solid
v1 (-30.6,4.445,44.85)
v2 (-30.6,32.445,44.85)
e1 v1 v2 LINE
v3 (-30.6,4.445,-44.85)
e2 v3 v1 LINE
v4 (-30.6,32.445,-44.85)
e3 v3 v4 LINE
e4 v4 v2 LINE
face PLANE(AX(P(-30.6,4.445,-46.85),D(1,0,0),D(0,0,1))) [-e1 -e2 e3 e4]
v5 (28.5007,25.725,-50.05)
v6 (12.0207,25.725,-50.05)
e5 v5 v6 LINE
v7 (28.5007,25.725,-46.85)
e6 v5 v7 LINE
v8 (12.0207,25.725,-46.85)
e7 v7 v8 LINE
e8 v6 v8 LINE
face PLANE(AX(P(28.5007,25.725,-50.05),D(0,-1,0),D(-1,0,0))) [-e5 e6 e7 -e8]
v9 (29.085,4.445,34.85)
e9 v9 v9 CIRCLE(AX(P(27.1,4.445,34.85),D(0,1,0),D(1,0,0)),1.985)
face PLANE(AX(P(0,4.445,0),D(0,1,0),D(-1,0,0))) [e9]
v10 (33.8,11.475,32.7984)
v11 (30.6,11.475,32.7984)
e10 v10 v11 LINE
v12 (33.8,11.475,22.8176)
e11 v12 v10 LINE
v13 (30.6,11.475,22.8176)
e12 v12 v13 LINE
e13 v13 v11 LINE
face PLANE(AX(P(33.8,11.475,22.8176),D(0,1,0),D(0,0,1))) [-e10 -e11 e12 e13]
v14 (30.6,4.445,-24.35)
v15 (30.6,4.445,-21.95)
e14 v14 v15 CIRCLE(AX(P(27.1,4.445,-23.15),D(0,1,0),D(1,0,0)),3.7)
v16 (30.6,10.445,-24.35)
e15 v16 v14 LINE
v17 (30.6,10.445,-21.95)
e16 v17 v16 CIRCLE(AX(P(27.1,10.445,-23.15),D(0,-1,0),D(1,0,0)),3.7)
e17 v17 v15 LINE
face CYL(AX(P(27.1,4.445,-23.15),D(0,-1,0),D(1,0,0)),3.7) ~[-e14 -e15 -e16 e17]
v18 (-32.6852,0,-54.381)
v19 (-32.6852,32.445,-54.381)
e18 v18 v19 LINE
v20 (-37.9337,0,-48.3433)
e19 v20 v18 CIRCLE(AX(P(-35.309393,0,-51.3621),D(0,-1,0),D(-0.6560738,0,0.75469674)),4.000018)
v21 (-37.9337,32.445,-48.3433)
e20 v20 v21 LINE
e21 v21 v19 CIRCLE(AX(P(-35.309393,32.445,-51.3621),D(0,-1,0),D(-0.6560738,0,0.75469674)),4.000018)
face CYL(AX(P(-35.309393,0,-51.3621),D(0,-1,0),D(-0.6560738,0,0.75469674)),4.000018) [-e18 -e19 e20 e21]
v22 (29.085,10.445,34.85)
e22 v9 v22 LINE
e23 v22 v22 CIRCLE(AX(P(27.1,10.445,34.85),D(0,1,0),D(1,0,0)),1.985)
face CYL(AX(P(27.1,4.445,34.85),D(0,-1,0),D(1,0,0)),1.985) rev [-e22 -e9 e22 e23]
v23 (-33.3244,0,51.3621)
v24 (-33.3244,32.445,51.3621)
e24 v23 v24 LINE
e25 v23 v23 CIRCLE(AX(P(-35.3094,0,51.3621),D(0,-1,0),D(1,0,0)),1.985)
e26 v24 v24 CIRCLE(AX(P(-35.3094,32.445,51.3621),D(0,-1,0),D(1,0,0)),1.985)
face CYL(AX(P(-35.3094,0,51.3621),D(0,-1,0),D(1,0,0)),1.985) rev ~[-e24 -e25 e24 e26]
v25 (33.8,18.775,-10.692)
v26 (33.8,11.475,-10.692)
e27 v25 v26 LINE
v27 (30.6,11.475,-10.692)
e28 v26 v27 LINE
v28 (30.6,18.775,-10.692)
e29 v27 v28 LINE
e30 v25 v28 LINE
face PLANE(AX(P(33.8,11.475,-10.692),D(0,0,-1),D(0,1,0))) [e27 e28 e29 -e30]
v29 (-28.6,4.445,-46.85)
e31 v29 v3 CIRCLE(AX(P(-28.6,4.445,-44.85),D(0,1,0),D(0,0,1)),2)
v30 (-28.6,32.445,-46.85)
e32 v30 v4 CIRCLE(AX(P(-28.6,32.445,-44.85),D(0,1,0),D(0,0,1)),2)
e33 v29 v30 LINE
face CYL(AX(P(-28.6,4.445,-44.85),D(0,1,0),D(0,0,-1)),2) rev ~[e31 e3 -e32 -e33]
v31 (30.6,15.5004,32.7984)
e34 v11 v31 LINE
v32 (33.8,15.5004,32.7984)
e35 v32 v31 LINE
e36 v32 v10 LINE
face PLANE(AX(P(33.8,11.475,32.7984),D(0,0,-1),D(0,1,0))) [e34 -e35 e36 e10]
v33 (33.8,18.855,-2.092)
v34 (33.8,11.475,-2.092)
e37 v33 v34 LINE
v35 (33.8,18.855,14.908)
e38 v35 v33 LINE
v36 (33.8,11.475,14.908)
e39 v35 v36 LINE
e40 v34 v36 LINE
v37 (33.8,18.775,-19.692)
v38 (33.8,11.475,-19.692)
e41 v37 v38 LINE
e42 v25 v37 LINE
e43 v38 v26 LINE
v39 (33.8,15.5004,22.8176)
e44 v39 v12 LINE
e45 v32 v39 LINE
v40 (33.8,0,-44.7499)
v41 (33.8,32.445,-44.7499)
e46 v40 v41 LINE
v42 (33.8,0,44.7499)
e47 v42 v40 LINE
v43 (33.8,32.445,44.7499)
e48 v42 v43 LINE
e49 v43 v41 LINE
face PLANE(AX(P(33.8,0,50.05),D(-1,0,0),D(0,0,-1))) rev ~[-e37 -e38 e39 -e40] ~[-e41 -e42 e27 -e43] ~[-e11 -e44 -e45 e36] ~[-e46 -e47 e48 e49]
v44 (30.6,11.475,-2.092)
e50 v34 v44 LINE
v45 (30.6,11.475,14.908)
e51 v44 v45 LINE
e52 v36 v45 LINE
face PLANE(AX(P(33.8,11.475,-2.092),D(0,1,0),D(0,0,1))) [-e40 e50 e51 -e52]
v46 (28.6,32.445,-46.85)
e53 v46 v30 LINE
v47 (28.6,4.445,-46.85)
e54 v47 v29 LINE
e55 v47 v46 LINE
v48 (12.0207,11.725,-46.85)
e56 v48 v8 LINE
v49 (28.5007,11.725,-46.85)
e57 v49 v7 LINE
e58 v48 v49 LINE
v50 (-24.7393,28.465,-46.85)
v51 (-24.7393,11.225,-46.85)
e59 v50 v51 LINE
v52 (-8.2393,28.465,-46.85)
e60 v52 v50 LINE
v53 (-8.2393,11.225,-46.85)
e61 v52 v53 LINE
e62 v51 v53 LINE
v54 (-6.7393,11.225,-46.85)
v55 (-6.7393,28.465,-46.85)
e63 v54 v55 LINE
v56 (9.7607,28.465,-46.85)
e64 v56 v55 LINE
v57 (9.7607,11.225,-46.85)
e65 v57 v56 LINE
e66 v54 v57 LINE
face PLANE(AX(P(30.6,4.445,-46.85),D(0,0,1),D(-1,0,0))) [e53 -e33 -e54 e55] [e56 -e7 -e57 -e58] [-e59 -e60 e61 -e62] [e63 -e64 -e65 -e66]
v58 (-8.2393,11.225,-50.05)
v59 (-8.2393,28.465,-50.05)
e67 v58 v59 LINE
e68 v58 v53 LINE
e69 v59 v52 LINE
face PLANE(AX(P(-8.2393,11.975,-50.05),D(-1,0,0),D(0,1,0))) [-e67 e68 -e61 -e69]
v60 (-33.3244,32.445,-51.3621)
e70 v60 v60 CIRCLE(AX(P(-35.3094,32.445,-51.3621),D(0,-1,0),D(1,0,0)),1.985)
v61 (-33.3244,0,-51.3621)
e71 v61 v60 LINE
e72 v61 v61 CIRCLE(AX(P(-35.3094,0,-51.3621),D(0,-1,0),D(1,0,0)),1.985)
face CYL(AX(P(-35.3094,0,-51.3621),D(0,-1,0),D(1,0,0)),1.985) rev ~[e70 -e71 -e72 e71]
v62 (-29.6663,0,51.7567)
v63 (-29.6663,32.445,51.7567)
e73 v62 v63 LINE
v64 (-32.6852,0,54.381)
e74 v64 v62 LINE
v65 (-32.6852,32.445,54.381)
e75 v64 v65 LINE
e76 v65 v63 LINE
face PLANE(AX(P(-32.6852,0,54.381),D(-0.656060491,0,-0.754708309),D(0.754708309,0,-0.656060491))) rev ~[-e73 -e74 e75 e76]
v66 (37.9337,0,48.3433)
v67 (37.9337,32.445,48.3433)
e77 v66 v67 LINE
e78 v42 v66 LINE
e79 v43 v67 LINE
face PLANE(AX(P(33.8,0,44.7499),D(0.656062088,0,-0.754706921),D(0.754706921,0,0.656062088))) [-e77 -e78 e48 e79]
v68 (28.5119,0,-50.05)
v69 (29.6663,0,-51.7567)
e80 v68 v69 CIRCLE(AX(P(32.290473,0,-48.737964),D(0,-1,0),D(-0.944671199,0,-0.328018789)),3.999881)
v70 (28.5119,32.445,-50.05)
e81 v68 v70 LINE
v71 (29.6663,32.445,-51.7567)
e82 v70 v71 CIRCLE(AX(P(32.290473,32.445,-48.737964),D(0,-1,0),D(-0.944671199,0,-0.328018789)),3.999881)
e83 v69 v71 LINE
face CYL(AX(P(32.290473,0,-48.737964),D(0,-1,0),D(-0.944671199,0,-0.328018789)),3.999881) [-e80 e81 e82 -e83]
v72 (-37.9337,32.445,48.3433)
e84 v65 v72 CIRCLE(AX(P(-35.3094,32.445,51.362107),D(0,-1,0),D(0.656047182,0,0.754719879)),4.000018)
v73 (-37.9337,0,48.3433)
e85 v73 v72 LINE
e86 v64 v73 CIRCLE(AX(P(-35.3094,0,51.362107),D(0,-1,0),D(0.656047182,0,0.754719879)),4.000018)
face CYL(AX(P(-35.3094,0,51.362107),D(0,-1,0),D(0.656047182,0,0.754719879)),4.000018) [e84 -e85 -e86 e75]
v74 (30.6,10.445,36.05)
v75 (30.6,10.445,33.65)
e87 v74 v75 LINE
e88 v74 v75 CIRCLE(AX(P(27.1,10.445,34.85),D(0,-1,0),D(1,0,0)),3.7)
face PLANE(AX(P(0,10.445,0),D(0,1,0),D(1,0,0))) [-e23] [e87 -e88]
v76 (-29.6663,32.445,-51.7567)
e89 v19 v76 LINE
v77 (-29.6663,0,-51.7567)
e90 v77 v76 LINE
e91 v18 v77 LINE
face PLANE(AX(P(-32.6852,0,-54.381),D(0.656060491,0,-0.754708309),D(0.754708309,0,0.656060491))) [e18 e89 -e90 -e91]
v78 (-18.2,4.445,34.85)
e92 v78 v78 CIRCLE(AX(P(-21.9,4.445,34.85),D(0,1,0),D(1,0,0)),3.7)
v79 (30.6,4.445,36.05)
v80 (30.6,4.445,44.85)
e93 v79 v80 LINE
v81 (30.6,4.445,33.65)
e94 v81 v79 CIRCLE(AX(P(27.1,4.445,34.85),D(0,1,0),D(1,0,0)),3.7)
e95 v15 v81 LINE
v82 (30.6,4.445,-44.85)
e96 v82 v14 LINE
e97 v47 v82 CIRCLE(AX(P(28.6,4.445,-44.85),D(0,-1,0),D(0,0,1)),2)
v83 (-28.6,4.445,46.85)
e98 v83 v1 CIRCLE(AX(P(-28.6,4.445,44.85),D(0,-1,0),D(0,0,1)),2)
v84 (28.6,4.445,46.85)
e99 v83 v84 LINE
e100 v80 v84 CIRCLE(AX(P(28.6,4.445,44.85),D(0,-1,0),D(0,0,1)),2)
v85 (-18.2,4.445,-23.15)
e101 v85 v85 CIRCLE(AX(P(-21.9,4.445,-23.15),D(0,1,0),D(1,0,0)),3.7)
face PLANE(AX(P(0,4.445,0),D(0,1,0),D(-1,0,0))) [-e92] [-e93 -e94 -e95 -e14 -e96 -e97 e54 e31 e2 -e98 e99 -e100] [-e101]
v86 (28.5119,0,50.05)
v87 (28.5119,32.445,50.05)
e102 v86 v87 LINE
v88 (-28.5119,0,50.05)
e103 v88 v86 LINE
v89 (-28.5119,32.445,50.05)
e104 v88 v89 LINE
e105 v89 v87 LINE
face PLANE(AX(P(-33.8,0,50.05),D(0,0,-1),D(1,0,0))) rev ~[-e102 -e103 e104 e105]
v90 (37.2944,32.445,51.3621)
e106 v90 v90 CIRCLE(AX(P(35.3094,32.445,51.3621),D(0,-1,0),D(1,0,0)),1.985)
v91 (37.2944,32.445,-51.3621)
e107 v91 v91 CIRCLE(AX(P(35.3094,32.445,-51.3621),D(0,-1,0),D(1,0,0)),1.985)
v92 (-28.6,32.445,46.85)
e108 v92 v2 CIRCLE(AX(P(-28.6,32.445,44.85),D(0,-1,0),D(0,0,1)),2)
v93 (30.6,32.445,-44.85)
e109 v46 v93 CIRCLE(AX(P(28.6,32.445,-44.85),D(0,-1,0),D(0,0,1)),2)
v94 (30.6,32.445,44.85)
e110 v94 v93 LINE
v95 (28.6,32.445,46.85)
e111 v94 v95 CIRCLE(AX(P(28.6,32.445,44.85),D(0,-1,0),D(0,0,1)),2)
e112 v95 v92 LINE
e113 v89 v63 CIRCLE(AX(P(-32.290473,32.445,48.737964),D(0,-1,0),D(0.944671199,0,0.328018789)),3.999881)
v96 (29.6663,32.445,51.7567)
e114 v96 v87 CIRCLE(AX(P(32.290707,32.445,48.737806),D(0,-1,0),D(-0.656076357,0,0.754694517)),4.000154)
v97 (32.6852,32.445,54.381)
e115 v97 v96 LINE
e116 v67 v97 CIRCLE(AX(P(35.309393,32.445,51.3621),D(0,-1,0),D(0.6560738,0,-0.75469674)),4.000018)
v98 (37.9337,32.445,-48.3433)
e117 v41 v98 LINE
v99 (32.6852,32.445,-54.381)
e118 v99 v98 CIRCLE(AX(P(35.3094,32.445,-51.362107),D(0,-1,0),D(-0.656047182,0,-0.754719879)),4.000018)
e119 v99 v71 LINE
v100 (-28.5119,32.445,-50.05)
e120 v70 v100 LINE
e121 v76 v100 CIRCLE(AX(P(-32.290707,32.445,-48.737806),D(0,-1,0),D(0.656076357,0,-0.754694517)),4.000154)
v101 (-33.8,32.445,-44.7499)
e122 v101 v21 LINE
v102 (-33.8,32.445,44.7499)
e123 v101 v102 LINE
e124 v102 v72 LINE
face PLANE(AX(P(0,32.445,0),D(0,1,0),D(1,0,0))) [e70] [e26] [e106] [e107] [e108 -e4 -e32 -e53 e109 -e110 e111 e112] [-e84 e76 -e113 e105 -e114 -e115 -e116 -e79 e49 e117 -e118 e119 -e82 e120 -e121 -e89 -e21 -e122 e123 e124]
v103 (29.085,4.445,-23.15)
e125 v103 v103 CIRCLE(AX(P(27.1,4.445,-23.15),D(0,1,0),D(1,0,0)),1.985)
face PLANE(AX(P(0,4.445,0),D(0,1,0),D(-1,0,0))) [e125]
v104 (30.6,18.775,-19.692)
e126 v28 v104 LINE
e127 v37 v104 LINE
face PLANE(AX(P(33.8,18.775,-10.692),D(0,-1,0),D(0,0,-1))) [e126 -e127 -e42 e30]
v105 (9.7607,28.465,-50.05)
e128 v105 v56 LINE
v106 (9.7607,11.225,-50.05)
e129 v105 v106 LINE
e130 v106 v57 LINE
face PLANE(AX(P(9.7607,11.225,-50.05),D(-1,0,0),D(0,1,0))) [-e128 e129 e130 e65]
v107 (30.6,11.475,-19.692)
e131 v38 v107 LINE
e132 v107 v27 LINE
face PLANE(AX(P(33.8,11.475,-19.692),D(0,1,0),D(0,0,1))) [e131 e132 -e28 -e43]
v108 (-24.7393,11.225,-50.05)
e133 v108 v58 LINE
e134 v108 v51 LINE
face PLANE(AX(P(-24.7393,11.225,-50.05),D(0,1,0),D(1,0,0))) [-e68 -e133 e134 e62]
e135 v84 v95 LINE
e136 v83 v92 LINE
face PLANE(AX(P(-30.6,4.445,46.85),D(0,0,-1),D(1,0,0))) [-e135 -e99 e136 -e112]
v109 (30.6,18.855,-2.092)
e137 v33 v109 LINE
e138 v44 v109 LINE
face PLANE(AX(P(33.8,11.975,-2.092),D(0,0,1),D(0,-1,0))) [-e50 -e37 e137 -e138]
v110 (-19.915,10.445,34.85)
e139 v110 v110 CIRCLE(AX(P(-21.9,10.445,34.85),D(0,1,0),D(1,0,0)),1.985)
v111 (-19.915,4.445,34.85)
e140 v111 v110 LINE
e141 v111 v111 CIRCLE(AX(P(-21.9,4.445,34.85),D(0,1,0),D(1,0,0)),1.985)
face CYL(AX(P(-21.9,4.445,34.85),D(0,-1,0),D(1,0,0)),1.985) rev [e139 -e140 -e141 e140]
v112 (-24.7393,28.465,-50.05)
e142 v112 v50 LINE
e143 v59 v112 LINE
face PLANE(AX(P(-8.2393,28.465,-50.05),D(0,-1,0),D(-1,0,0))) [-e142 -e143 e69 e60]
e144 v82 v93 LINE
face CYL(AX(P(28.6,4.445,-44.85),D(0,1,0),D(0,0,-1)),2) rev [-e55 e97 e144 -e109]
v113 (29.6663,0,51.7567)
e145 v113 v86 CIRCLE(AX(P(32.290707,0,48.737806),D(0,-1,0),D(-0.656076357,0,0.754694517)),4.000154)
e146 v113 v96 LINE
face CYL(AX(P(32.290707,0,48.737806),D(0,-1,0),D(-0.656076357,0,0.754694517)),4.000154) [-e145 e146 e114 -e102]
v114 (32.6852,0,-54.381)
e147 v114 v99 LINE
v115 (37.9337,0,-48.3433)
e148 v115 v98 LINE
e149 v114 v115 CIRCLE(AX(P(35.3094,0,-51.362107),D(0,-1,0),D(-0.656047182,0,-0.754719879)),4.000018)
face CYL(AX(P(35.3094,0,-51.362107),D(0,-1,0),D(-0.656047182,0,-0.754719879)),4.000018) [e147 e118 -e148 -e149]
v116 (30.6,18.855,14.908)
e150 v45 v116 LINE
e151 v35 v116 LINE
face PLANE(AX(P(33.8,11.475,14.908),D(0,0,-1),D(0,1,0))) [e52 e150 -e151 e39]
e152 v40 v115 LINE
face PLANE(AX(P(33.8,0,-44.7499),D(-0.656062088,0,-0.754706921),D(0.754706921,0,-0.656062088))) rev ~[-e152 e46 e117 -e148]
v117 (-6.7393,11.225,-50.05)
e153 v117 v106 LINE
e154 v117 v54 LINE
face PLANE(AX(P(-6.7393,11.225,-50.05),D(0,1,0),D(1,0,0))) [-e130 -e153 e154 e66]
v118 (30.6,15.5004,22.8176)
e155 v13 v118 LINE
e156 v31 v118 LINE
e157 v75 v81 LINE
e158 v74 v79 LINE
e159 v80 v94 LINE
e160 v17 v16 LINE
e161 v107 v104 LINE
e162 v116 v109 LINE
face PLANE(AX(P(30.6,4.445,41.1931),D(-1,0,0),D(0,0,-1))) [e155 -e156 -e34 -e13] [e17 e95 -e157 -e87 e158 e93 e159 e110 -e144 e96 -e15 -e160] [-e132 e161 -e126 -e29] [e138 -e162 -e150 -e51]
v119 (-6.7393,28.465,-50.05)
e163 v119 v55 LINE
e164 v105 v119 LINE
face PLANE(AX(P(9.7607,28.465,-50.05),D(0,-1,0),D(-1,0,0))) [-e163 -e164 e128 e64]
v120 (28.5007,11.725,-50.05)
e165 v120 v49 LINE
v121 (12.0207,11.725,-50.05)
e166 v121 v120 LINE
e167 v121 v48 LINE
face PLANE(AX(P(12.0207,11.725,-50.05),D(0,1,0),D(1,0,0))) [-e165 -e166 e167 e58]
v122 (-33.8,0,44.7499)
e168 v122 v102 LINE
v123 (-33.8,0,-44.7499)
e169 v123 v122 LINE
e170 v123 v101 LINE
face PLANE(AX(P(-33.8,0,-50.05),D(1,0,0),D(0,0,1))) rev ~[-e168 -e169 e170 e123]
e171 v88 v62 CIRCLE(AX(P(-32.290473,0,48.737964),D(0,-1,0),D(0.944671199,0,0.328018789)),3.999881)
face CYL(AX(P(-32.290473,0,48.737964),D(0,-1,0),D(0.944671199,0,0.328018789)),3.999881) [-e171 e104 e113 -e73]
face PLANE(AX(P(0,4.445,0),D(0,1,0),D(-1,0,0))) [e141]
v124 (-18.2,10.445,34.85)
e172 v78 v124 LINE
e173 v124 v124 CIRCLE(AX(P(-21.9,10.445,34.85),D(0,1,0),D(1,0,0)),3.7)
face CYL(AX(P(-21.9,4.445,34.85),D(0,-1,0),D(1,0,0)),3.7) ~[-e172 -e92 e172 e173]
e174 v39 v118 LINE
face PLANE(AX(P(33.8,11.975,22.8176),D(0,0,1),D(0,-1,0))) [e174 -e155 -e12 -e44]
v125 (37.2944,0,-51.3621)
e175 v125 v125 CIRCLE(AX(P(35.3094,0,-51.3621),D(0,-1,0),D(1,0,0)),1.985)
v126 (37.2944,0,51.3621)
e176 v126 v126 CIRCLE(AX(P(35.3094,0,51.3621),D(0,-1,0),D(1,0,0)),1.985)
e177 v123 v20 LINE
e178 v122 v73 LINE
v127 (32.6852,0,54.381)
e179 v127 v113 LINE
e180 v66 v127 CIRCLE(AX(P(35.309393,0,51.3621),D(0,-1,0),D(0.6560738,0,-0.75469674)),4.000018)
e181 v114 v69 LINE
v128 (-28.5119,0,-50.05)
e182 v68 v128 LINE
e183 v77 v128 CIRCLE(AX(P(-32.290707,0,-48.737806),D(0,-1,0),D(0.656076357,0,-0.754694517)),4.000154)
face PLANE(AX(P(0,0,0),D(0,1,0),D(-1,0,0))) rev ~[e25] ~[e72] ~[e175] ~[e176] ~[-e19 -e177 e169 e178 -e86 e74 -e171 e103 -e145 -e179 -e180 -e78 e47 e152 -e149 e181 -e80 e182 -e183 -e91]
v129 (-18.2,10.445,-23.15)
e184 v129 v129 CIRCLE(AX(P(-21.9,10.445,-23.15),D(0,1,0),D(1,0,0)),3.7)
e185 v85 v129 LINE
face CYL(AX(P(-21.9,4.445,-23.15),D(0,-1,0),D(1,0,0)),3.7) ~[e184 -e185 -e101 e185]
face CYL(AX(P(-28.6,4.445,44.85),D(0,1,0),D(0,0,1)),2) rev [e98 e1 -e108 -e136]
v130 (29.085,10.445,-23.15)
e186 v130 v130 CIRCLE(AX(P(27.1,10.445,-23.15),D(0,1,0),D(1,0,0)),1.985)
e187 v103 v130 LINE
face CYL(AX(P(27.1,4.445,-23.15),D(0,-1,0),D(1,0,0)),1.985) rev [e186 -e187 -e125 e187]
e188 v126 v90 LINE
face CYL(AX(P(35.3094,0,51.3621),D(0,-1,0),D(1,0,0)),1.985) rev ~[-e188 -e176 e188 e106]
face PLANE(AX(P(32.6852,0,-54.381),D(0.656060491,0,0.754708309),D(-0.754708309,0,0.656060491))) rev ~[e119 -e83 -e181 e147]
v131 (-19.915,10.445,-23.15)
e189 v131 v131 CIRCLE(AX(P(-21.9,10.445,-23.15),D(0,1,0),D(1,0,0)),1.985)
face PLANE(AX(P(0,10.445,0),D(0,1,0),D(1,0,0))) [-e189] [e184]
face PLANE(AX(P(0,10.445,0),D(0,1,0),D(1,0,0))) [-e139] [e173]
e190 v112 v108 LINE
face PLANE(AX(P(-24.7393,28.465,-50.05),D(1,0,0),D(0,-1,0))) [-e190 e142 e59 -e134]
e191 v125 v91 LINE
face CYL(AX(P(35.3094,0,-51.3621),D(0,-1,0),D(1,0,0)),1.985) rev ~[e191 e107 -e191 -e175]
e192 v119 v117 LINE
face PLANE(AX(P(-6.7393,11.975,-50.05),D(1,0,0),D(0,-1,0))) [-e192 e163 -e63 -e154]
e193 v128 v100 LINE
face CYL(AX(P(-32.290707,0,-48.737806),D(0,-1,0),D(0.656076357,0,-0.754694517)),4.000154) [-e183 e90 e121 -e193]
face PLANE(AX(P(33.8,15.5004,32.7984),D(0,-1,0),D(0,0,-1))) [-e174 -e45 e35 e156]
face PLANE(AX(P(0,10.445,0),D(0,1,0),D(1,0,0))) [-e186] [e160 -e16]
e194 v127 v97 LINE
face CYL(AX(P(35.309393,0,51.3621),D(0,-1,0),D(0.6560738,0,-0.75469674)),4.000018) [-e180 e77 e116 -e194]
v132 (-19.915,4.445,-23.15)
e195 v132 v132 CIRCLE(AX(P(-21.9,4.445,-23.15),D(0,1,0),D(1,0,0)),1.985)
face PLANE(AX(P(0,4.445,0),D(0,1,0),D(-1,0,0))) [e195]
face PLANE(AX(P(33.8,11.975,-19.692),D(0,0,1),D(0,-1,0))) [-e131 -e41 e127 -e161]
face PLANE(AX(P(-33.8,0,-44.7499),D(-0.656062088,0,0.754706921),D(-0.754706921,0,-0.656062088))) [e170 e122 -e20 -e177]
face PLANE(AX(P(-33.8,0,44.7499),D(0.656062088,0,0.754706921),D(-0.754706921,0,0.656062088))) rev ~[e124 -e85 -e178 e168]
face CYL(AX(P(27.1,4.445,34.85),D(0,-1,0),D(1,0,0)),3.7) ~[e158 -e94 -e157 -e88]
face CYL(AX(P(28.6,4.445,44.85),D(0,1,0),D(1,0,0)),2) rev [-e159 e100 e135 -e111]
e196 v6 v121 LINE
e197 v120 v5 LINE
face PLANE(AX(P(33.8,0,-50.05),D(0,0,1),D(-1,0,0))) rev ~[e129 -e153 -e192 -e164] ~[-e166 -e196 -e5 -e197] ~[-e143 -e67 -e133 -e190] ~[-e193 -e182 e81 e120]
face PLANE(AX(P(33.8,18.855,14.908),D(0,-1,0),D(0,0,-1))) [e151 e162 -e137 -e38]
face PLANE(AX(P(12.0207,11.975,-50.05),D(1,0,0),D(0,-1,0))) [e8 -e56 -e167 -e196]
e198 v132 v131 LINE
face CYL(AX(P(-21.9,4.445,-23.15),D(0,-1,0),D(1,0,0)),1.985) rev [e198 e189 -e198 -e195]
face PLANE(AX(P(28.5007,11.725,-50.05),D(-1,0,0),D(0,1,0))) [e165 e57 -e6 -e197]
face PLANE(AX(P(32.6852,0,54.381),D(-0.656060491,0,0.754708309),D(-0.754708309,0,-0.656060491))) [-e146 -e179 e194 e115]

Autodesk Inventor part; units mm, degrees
ref_plane "YZ Plane" through (0, 0, 0) normal (1, 0, 0) x (0, 1, 0)
ref_plane "XZ Plane" through (0, 0, 0) normal (0, 1, 0) x (-1, 0, 0)
ref_plane "XY Plane" through (0, 0, 0) normal (0, 0, 1) x (1, 0, 0)
sketch "Sketch1" plane through (0, 0, 0) normal (0, 1, 0) x (-1, 0, 0)
  line L0 (-33.8, -50.05) -> (33.8, -50.05)
  line L1 (33.8, -50.05) -> (33.8, 50.05)
  line L2 (33.8, 50.05) -> (-33.8, 50.05)
  line L3 (-33.8, 50.05) -> (-33.8, -50.05)
  line L4 (-33.8, -50.05) -> (33.8, 50.05) construction
  line L5 (33.8, -50.05) -> (-33.8, 50.05) construction
  point P0 (0, 0)
  dimension "d0" = 67.6
  dimension "d1" = 100.1
extrude "Extrusion1" add sketch "Sketch1" along normal blind 4.445
sketch "Sketch2" plane through (0, 4.445, 0) normal (0, 1, 0) x (1, 0, 0)
  line L0 (30.6, 46.85) -> (-30.6, 46.85)
  line L1 (-30.6, 46.85) -> (-30.6, -46.85)
  line L2 (-30.6, -46.85) -> (30.6, -46.85)
  line L3 (30.6, -46.85) -> (30.6, 46.85)
  line L4 (30.6, 46.85) -> (-30.6, -46.85) construction
  line L5 (-30.6, 46.85) -> (30.6, -46.85) construction
  line L6 (-33.8, 50.05) -> (-33.8, -50.05) projected
  line L7 (-33.8, -50.05) -> (33.8, -50.05) projected
  line L8 (33.8, 50.05) -> (-33.8, 50.05) projected
  line L9 (33.8, -50.05) -> (33.8, 50.05) projected
  line L10 (27.4, -43.65) -> (33.8, -50.05) construction
  line L11 (24.9431, -46.85) -> (30.9716, -52.8784)
  line L12 (36.6284, -47.2216) -> (30.6, -41.1931)
  arc A0 (30.9716, -52.8784) -> (36.6284, -47.2216) centre (33.8, -50.05) ccw
  circle A1 centre (33.8, -50.05) radius 1.375
  point P0 (0, 0)
  dimension "d4" = 3.2
  dimension "d5" = 3.2
  dimension "d22" = 8
  dimension "d23" = 2.75
extrude "Extrusion2" add sketch "Sketch2" along normal blind 28 contours L0 L1 L2 L11 L7 L6 L8 L9 L12 L3 | L12 L9 A1 L7 L11 L2 L3 | L9 L7 A1 picked at (32.9402, -49.7491)
sketch "Sketch4" plane through (0, 0, 0) normal (0, -1, 0) x (1, 0, 0)
  line L0 (32.2906, 48.7379) -> (35.3094, 51.3621) construction
  line L1 (33.8, 50.05) -> (33.8, -50.05) projected
  line L2 (33.8, 44.7499) -> (37.9337, 48.3433)
  line L3 (32.6852, 54.381) -> (29.6663, 51.7567)
  arc A0 (29.6663, 51.7567) -> (28.5119, 50.05) centre (32.2906, 48.7379) ccw
  arc A1 (37.9337, 48.3433) -> (32.6852, 54.381) centre (35.3094, 51.3621) ccw
  line L4 (-33.8, 50.05) -> (33.8, 50.05) projected
  line L5 (28.5119, 50.05) -> (33.8, 50.05)
  line L6 (33.8, 50.05) -> (33.8, 44.7499)
  circle A2 centre (35.3094, 51.3621) radius 1.985
  line L7 (0, 50.05) -> (0, -50.05) construction
  line L8 (33.8, -50.05) -> (-33.8, -50.05) construction
  line L9 (33.8, 0) -> (-33.3, 0) construction
  line L10 (33.8, -50.05) -> (33.8, 50.05)
  line L11 (33.8, -44.7499) -> (37.9337, -48.3433)
  line L12 (32.6852, -54.381) -> (29.6663, -51.7567)
  arc A3 (28.5119, -50.05) -> (29.6663, -51.7567) centre (32.2906, -48.7379) ccw
  arc A4 (32.6852, -54.381) -> (37.9337, -48.3433) centre (35.3094, -51.3621) ccw
  line L13 (-33.8, -50.05) -> (33.8, -50.05)
  circle A5 centre (35.3094, -51.3621) radius 1.985
  line L14 (-33.8, 50.05) -> (-33.8, -50.05)
  line L15 (-33.8, 44.7499) -> (-37.9337, 48.3433)
  line L16 (-32.6852, 54.381) -> (-29.6663, 51.7567)
  arc A6 (-28.5119, 50.05) -> (-29.6663, 51.7567) centre (-32.2906, 48.7379) ccw
  arc A7 (-32.6852, 54.381) -> (-37.9337, 48.3433) centre (-35.3094, 51.3621) ccw
  line L17 (-28.5119, 50.05) -> (-33.8, 50.05)
  circle A8 centre (-35.3094, 51.3621) radius 1.985
  arc A9 (-37.9337, -48.3433) -> (-32.6852, -54.381) centre (-35.3094, -51.3621) ccw
  line L18 (-33.8, -44.7499) -> (-37.9337, -48.3433)
  line L19 (-32.6852, -54.381) -> (-29.6663, -51.7567)
  arc A10 (-29.6663, -51.7567) -> (-28.5119, -50.05) centre (-32.2906, -48.7379) ccw
  circle A11 centre (-35.3094, -51.3621) radius 1.985
  line L20 (-28.5119, -50.05) -> (-33.8, -50.05)
  line L21 (-33.8, -50.05) -> (-33.8, 50.05)
  point P0 (0, 0)
  point P1 (-28.5119, -50.05)
  point P2 (-33.8, -44.7499)
  point P3 (-28.5119, 50.05)
  point P4 (33.8, -44.7499)
  dimension "d24" = 2
  dimension "d25" = 8
  dimension "d26" = 131
  dimension "d27" = 3.97
extrude "Extrusion4" add sketch "Sketch4" against normal up to surface (32.445 mm away) contours L4 A0 L3 A1 L2 L1 | L11 A4 L12 A3 L13 L1 | L4 L14 L15 A7 L16 A6 | A10 L19 A9 L18 L14 L13
fillet "Fillet2" radius 2 4 edges at (30.6, 18.445, -46.85) (-30.6, 18.445, -46.85) (-30.6, 18.445, 46.85) (30.6, 18.445, 46.85)
sketch "Sketch14" plane through (0, 4.445, 0) normal (0, 1, 0) x (1, 0, 0)
  circle A0 centre (27.1, -34.85) radius 3.7
  circle A1 centre (27.1, -34.85) radius 1.985
  line L0 (28.6, -46.85) -> (-28.6, -46.85) projected
  line L1 (30.6, 44.85) -> (30.6, -44.85) projected
  line L2 (-28.6, -46.85) -> (28.6, -46.85) construction
  line L3 (0, -46.85) -> (0, 50.05) construction
  line L4 (28.5119, 50.05) -> (-28.5119, 50.05) construction
  circle A2 centre (27.1, 23.15) radius 3.7
  circle A3 centre (27.1, 23.15) radius 1.985
  line L5 (-30.6, 44.85) -> (-30.6, -44.85) construction
  line L6 (-30.6, 0) -> (30.6, 0) construction
  line L7 (30.6, -44.85) -> (30.6, 44.85) construction
  circle A4 centre (-21.9, -34.85) radius 3.7
  circle A5 centre (-21.9, -34.85) radius 1.985
  circle A6 centre (-21.9, 23.15) radius 1.985
  circle A7 centre (-21.9, 23.15) radius 3.7
  point P0 (0, 0)
  dimension "d114" = 7.4
  dimension "d115" = 3.97
  dimension "d116" = 12
  dimension "d117" = 3.5
  dimension "d120" = 58
  dimension "d127" = 49
sketch "Sketch15" plane through (0, 4.445, 0) normal (0, 1, 0) x (1, 0, 0)
  point P0 (0, 0)
extrude "Extrusion10" add sketch "Sketch14" along normal blind 6
sketch "Sketch16" plane through (33.8, 0, 44.7499) normal (1, 0, 0) x (0, 0, -1)
  line L0 (12.9515, 13.2621) -> (12.9515, 13.455) projected
  line L1 (20.9323, 13.455) -> (20.9323, 13.2621) projected
  line L2 (13.9419, 14.5004) -> (19.9419, 14.5004) projected
  line L3 (88.3241, 11.975) -> (9.3999, 11.975) projected
  line L4 (21.9323, 11.475) -> (11.9515, 11.475)
  line L5 (11.9515, 11.475) -> (11.9515, 15.5004)
  line L6 (11.9515, 15.5004) -> (21.9323, 15.5004)
  line L7 (21.9323, 15.5004) -> (21.9323, 11.475)
  line L8 (30.8419, 17.055) -> (30.8419, 14.5766) projected
  line L9 (45.8419, 14.5766) -> (45.8419, 17.055) projected
  line L10 (45.0419, 17.855) -> (31.6419, 17.855) projected
  line L11 (46.8419, 11.475) -> (29.8419, 11.475)
  line L12 (29.8419, 11.475) -> (29.8419, 18.855)
  line L13 (29.8419, 18.855) -> (46.8419, 18.855)
  line L14 (46.8419, 18.855) -> (46.8419, 11.475)
  line L15 (56.4419, 17.775) -> (56.4419, 11.775) projected
  line L16 (63.4419, 11.775) -> (63.4419, 17.775) projected
  line L17 (63.4419, 17.775) -> (59.9419, 17.775) projected
  line L18 (59.9419, 17.775) -> (56.4419, 17.775) projected
  line L19 (64.4419, 11.475) -> (55.4419, 11.475)
  line L20 (55.4419, 11.475) -> (55.4419, 18.775)
  line L21 (55.4419, 18.775) -> (64.4419, 18.775)
  line L22 (64.4419, 18.775) -> (64.4419, 11.475)
  point P0 (44.7499, 0)
  dimension "d134" = 1
  dimension "d135" = 0.5
  dimension "d136" = 1
  dimension "d137" = 1
  dimension "d138" = 1
  dimension "d139" = 0.5
  dimension "d140" = 1
  dimension "d141" = 1
  dimension "d142" = 0.5
  dimension "d143" = 1
  dimension "d144" = 1
  dimension "d145" = 1
extrude "Extrusion11" cut sketch "Sketch16" against normal up to surface (3.2 mm away)
sketch "Sketch17" plane through (28.5119, 0, -50.05) normal (0, 0, -1) x (-1, 0, 0)
  line L0 (16.1912, 11.975) -> (16.1912, 25.475) projected
  line L1 (0.3112, 11.975) -> (0.3112, 25.475) projected
  line L2 (0.3112, 25.475) -> (16.1912, 25.475) projected
  line L3 (50.9119, 11.975) -> (0.9119, 11.975) projected
  line L4 (16.4912, 11.725) -> (0.0112, 11.725)
  line L5 (0.0112, 11.725) -> (0.0112, 25.725)
  line L6 (0.0112, 25.725) -> (16.4912, 25.725)
  line L7 (16.4912, 25.725) -> (16.4912, 11.725)
  line L8 (19.4512, 18.7546) -> (19.4512, 21.7546) projected
  line L9 (34.5512, 21.7546) -> (34.5512, 18.7546) projected
  line L10 (24.0012, 27.465) -> (30.0012, 27.465) projected
  line L11 (35.2512, 11.225) -> (18.7512, 11.225)
  line L12 (18.7512, 11.225) -> (18.7512, 28.465)
  line L13 (18.7512, 28.465) -> (35.2512, 28.465)
  line L14 (35.2512, 28.465) -> (35.2512, 11.225)
  line L15 (37.4512, 18.7546) -> (37.4512, 21.7546) projected
  line L16 (52.5512, 21.7546) -> (52.5512, 18.7546) projected
  line L17 (42.0012, 27.465) -> (48.0012, 27.465) projected
  line L18 (53.2512, 11.225) -> (36.7512, 11.225)
  line L19 (36.7512, 11.225) -> (36.7512, 28.465)
  line L20 (36.7512, 28.465) -> (53.2512, 28.465)
  line L21 (53.2512, 28.465) -> (53.2512, 11.225)
  point P0 (28.5119, 0)
  point P1 (18.7512, 11.975)
  point P2 (35.2512, 11.975)
  dimension "d148" = 0.3
  dimension "d149" = 0.3
  dimension "d150" = 0.25
  dimension "d151" = 0.25
  dimension "d154" = 0.7
  dimension "d155" = 0.7
  dimension "d156" = 1
  dimension "d157" = 0.75
  dimension "d158" = 1
  dimension "d159" = 0.7
  dimension "d160" = 0.7
  dimension "d161" = 0.75
extrude "Extrusion12" cut sketch "Sketch17" against normal up to surface (3.2 mm away)
properties part number "Case Rev D" material "ABS Plastic"
